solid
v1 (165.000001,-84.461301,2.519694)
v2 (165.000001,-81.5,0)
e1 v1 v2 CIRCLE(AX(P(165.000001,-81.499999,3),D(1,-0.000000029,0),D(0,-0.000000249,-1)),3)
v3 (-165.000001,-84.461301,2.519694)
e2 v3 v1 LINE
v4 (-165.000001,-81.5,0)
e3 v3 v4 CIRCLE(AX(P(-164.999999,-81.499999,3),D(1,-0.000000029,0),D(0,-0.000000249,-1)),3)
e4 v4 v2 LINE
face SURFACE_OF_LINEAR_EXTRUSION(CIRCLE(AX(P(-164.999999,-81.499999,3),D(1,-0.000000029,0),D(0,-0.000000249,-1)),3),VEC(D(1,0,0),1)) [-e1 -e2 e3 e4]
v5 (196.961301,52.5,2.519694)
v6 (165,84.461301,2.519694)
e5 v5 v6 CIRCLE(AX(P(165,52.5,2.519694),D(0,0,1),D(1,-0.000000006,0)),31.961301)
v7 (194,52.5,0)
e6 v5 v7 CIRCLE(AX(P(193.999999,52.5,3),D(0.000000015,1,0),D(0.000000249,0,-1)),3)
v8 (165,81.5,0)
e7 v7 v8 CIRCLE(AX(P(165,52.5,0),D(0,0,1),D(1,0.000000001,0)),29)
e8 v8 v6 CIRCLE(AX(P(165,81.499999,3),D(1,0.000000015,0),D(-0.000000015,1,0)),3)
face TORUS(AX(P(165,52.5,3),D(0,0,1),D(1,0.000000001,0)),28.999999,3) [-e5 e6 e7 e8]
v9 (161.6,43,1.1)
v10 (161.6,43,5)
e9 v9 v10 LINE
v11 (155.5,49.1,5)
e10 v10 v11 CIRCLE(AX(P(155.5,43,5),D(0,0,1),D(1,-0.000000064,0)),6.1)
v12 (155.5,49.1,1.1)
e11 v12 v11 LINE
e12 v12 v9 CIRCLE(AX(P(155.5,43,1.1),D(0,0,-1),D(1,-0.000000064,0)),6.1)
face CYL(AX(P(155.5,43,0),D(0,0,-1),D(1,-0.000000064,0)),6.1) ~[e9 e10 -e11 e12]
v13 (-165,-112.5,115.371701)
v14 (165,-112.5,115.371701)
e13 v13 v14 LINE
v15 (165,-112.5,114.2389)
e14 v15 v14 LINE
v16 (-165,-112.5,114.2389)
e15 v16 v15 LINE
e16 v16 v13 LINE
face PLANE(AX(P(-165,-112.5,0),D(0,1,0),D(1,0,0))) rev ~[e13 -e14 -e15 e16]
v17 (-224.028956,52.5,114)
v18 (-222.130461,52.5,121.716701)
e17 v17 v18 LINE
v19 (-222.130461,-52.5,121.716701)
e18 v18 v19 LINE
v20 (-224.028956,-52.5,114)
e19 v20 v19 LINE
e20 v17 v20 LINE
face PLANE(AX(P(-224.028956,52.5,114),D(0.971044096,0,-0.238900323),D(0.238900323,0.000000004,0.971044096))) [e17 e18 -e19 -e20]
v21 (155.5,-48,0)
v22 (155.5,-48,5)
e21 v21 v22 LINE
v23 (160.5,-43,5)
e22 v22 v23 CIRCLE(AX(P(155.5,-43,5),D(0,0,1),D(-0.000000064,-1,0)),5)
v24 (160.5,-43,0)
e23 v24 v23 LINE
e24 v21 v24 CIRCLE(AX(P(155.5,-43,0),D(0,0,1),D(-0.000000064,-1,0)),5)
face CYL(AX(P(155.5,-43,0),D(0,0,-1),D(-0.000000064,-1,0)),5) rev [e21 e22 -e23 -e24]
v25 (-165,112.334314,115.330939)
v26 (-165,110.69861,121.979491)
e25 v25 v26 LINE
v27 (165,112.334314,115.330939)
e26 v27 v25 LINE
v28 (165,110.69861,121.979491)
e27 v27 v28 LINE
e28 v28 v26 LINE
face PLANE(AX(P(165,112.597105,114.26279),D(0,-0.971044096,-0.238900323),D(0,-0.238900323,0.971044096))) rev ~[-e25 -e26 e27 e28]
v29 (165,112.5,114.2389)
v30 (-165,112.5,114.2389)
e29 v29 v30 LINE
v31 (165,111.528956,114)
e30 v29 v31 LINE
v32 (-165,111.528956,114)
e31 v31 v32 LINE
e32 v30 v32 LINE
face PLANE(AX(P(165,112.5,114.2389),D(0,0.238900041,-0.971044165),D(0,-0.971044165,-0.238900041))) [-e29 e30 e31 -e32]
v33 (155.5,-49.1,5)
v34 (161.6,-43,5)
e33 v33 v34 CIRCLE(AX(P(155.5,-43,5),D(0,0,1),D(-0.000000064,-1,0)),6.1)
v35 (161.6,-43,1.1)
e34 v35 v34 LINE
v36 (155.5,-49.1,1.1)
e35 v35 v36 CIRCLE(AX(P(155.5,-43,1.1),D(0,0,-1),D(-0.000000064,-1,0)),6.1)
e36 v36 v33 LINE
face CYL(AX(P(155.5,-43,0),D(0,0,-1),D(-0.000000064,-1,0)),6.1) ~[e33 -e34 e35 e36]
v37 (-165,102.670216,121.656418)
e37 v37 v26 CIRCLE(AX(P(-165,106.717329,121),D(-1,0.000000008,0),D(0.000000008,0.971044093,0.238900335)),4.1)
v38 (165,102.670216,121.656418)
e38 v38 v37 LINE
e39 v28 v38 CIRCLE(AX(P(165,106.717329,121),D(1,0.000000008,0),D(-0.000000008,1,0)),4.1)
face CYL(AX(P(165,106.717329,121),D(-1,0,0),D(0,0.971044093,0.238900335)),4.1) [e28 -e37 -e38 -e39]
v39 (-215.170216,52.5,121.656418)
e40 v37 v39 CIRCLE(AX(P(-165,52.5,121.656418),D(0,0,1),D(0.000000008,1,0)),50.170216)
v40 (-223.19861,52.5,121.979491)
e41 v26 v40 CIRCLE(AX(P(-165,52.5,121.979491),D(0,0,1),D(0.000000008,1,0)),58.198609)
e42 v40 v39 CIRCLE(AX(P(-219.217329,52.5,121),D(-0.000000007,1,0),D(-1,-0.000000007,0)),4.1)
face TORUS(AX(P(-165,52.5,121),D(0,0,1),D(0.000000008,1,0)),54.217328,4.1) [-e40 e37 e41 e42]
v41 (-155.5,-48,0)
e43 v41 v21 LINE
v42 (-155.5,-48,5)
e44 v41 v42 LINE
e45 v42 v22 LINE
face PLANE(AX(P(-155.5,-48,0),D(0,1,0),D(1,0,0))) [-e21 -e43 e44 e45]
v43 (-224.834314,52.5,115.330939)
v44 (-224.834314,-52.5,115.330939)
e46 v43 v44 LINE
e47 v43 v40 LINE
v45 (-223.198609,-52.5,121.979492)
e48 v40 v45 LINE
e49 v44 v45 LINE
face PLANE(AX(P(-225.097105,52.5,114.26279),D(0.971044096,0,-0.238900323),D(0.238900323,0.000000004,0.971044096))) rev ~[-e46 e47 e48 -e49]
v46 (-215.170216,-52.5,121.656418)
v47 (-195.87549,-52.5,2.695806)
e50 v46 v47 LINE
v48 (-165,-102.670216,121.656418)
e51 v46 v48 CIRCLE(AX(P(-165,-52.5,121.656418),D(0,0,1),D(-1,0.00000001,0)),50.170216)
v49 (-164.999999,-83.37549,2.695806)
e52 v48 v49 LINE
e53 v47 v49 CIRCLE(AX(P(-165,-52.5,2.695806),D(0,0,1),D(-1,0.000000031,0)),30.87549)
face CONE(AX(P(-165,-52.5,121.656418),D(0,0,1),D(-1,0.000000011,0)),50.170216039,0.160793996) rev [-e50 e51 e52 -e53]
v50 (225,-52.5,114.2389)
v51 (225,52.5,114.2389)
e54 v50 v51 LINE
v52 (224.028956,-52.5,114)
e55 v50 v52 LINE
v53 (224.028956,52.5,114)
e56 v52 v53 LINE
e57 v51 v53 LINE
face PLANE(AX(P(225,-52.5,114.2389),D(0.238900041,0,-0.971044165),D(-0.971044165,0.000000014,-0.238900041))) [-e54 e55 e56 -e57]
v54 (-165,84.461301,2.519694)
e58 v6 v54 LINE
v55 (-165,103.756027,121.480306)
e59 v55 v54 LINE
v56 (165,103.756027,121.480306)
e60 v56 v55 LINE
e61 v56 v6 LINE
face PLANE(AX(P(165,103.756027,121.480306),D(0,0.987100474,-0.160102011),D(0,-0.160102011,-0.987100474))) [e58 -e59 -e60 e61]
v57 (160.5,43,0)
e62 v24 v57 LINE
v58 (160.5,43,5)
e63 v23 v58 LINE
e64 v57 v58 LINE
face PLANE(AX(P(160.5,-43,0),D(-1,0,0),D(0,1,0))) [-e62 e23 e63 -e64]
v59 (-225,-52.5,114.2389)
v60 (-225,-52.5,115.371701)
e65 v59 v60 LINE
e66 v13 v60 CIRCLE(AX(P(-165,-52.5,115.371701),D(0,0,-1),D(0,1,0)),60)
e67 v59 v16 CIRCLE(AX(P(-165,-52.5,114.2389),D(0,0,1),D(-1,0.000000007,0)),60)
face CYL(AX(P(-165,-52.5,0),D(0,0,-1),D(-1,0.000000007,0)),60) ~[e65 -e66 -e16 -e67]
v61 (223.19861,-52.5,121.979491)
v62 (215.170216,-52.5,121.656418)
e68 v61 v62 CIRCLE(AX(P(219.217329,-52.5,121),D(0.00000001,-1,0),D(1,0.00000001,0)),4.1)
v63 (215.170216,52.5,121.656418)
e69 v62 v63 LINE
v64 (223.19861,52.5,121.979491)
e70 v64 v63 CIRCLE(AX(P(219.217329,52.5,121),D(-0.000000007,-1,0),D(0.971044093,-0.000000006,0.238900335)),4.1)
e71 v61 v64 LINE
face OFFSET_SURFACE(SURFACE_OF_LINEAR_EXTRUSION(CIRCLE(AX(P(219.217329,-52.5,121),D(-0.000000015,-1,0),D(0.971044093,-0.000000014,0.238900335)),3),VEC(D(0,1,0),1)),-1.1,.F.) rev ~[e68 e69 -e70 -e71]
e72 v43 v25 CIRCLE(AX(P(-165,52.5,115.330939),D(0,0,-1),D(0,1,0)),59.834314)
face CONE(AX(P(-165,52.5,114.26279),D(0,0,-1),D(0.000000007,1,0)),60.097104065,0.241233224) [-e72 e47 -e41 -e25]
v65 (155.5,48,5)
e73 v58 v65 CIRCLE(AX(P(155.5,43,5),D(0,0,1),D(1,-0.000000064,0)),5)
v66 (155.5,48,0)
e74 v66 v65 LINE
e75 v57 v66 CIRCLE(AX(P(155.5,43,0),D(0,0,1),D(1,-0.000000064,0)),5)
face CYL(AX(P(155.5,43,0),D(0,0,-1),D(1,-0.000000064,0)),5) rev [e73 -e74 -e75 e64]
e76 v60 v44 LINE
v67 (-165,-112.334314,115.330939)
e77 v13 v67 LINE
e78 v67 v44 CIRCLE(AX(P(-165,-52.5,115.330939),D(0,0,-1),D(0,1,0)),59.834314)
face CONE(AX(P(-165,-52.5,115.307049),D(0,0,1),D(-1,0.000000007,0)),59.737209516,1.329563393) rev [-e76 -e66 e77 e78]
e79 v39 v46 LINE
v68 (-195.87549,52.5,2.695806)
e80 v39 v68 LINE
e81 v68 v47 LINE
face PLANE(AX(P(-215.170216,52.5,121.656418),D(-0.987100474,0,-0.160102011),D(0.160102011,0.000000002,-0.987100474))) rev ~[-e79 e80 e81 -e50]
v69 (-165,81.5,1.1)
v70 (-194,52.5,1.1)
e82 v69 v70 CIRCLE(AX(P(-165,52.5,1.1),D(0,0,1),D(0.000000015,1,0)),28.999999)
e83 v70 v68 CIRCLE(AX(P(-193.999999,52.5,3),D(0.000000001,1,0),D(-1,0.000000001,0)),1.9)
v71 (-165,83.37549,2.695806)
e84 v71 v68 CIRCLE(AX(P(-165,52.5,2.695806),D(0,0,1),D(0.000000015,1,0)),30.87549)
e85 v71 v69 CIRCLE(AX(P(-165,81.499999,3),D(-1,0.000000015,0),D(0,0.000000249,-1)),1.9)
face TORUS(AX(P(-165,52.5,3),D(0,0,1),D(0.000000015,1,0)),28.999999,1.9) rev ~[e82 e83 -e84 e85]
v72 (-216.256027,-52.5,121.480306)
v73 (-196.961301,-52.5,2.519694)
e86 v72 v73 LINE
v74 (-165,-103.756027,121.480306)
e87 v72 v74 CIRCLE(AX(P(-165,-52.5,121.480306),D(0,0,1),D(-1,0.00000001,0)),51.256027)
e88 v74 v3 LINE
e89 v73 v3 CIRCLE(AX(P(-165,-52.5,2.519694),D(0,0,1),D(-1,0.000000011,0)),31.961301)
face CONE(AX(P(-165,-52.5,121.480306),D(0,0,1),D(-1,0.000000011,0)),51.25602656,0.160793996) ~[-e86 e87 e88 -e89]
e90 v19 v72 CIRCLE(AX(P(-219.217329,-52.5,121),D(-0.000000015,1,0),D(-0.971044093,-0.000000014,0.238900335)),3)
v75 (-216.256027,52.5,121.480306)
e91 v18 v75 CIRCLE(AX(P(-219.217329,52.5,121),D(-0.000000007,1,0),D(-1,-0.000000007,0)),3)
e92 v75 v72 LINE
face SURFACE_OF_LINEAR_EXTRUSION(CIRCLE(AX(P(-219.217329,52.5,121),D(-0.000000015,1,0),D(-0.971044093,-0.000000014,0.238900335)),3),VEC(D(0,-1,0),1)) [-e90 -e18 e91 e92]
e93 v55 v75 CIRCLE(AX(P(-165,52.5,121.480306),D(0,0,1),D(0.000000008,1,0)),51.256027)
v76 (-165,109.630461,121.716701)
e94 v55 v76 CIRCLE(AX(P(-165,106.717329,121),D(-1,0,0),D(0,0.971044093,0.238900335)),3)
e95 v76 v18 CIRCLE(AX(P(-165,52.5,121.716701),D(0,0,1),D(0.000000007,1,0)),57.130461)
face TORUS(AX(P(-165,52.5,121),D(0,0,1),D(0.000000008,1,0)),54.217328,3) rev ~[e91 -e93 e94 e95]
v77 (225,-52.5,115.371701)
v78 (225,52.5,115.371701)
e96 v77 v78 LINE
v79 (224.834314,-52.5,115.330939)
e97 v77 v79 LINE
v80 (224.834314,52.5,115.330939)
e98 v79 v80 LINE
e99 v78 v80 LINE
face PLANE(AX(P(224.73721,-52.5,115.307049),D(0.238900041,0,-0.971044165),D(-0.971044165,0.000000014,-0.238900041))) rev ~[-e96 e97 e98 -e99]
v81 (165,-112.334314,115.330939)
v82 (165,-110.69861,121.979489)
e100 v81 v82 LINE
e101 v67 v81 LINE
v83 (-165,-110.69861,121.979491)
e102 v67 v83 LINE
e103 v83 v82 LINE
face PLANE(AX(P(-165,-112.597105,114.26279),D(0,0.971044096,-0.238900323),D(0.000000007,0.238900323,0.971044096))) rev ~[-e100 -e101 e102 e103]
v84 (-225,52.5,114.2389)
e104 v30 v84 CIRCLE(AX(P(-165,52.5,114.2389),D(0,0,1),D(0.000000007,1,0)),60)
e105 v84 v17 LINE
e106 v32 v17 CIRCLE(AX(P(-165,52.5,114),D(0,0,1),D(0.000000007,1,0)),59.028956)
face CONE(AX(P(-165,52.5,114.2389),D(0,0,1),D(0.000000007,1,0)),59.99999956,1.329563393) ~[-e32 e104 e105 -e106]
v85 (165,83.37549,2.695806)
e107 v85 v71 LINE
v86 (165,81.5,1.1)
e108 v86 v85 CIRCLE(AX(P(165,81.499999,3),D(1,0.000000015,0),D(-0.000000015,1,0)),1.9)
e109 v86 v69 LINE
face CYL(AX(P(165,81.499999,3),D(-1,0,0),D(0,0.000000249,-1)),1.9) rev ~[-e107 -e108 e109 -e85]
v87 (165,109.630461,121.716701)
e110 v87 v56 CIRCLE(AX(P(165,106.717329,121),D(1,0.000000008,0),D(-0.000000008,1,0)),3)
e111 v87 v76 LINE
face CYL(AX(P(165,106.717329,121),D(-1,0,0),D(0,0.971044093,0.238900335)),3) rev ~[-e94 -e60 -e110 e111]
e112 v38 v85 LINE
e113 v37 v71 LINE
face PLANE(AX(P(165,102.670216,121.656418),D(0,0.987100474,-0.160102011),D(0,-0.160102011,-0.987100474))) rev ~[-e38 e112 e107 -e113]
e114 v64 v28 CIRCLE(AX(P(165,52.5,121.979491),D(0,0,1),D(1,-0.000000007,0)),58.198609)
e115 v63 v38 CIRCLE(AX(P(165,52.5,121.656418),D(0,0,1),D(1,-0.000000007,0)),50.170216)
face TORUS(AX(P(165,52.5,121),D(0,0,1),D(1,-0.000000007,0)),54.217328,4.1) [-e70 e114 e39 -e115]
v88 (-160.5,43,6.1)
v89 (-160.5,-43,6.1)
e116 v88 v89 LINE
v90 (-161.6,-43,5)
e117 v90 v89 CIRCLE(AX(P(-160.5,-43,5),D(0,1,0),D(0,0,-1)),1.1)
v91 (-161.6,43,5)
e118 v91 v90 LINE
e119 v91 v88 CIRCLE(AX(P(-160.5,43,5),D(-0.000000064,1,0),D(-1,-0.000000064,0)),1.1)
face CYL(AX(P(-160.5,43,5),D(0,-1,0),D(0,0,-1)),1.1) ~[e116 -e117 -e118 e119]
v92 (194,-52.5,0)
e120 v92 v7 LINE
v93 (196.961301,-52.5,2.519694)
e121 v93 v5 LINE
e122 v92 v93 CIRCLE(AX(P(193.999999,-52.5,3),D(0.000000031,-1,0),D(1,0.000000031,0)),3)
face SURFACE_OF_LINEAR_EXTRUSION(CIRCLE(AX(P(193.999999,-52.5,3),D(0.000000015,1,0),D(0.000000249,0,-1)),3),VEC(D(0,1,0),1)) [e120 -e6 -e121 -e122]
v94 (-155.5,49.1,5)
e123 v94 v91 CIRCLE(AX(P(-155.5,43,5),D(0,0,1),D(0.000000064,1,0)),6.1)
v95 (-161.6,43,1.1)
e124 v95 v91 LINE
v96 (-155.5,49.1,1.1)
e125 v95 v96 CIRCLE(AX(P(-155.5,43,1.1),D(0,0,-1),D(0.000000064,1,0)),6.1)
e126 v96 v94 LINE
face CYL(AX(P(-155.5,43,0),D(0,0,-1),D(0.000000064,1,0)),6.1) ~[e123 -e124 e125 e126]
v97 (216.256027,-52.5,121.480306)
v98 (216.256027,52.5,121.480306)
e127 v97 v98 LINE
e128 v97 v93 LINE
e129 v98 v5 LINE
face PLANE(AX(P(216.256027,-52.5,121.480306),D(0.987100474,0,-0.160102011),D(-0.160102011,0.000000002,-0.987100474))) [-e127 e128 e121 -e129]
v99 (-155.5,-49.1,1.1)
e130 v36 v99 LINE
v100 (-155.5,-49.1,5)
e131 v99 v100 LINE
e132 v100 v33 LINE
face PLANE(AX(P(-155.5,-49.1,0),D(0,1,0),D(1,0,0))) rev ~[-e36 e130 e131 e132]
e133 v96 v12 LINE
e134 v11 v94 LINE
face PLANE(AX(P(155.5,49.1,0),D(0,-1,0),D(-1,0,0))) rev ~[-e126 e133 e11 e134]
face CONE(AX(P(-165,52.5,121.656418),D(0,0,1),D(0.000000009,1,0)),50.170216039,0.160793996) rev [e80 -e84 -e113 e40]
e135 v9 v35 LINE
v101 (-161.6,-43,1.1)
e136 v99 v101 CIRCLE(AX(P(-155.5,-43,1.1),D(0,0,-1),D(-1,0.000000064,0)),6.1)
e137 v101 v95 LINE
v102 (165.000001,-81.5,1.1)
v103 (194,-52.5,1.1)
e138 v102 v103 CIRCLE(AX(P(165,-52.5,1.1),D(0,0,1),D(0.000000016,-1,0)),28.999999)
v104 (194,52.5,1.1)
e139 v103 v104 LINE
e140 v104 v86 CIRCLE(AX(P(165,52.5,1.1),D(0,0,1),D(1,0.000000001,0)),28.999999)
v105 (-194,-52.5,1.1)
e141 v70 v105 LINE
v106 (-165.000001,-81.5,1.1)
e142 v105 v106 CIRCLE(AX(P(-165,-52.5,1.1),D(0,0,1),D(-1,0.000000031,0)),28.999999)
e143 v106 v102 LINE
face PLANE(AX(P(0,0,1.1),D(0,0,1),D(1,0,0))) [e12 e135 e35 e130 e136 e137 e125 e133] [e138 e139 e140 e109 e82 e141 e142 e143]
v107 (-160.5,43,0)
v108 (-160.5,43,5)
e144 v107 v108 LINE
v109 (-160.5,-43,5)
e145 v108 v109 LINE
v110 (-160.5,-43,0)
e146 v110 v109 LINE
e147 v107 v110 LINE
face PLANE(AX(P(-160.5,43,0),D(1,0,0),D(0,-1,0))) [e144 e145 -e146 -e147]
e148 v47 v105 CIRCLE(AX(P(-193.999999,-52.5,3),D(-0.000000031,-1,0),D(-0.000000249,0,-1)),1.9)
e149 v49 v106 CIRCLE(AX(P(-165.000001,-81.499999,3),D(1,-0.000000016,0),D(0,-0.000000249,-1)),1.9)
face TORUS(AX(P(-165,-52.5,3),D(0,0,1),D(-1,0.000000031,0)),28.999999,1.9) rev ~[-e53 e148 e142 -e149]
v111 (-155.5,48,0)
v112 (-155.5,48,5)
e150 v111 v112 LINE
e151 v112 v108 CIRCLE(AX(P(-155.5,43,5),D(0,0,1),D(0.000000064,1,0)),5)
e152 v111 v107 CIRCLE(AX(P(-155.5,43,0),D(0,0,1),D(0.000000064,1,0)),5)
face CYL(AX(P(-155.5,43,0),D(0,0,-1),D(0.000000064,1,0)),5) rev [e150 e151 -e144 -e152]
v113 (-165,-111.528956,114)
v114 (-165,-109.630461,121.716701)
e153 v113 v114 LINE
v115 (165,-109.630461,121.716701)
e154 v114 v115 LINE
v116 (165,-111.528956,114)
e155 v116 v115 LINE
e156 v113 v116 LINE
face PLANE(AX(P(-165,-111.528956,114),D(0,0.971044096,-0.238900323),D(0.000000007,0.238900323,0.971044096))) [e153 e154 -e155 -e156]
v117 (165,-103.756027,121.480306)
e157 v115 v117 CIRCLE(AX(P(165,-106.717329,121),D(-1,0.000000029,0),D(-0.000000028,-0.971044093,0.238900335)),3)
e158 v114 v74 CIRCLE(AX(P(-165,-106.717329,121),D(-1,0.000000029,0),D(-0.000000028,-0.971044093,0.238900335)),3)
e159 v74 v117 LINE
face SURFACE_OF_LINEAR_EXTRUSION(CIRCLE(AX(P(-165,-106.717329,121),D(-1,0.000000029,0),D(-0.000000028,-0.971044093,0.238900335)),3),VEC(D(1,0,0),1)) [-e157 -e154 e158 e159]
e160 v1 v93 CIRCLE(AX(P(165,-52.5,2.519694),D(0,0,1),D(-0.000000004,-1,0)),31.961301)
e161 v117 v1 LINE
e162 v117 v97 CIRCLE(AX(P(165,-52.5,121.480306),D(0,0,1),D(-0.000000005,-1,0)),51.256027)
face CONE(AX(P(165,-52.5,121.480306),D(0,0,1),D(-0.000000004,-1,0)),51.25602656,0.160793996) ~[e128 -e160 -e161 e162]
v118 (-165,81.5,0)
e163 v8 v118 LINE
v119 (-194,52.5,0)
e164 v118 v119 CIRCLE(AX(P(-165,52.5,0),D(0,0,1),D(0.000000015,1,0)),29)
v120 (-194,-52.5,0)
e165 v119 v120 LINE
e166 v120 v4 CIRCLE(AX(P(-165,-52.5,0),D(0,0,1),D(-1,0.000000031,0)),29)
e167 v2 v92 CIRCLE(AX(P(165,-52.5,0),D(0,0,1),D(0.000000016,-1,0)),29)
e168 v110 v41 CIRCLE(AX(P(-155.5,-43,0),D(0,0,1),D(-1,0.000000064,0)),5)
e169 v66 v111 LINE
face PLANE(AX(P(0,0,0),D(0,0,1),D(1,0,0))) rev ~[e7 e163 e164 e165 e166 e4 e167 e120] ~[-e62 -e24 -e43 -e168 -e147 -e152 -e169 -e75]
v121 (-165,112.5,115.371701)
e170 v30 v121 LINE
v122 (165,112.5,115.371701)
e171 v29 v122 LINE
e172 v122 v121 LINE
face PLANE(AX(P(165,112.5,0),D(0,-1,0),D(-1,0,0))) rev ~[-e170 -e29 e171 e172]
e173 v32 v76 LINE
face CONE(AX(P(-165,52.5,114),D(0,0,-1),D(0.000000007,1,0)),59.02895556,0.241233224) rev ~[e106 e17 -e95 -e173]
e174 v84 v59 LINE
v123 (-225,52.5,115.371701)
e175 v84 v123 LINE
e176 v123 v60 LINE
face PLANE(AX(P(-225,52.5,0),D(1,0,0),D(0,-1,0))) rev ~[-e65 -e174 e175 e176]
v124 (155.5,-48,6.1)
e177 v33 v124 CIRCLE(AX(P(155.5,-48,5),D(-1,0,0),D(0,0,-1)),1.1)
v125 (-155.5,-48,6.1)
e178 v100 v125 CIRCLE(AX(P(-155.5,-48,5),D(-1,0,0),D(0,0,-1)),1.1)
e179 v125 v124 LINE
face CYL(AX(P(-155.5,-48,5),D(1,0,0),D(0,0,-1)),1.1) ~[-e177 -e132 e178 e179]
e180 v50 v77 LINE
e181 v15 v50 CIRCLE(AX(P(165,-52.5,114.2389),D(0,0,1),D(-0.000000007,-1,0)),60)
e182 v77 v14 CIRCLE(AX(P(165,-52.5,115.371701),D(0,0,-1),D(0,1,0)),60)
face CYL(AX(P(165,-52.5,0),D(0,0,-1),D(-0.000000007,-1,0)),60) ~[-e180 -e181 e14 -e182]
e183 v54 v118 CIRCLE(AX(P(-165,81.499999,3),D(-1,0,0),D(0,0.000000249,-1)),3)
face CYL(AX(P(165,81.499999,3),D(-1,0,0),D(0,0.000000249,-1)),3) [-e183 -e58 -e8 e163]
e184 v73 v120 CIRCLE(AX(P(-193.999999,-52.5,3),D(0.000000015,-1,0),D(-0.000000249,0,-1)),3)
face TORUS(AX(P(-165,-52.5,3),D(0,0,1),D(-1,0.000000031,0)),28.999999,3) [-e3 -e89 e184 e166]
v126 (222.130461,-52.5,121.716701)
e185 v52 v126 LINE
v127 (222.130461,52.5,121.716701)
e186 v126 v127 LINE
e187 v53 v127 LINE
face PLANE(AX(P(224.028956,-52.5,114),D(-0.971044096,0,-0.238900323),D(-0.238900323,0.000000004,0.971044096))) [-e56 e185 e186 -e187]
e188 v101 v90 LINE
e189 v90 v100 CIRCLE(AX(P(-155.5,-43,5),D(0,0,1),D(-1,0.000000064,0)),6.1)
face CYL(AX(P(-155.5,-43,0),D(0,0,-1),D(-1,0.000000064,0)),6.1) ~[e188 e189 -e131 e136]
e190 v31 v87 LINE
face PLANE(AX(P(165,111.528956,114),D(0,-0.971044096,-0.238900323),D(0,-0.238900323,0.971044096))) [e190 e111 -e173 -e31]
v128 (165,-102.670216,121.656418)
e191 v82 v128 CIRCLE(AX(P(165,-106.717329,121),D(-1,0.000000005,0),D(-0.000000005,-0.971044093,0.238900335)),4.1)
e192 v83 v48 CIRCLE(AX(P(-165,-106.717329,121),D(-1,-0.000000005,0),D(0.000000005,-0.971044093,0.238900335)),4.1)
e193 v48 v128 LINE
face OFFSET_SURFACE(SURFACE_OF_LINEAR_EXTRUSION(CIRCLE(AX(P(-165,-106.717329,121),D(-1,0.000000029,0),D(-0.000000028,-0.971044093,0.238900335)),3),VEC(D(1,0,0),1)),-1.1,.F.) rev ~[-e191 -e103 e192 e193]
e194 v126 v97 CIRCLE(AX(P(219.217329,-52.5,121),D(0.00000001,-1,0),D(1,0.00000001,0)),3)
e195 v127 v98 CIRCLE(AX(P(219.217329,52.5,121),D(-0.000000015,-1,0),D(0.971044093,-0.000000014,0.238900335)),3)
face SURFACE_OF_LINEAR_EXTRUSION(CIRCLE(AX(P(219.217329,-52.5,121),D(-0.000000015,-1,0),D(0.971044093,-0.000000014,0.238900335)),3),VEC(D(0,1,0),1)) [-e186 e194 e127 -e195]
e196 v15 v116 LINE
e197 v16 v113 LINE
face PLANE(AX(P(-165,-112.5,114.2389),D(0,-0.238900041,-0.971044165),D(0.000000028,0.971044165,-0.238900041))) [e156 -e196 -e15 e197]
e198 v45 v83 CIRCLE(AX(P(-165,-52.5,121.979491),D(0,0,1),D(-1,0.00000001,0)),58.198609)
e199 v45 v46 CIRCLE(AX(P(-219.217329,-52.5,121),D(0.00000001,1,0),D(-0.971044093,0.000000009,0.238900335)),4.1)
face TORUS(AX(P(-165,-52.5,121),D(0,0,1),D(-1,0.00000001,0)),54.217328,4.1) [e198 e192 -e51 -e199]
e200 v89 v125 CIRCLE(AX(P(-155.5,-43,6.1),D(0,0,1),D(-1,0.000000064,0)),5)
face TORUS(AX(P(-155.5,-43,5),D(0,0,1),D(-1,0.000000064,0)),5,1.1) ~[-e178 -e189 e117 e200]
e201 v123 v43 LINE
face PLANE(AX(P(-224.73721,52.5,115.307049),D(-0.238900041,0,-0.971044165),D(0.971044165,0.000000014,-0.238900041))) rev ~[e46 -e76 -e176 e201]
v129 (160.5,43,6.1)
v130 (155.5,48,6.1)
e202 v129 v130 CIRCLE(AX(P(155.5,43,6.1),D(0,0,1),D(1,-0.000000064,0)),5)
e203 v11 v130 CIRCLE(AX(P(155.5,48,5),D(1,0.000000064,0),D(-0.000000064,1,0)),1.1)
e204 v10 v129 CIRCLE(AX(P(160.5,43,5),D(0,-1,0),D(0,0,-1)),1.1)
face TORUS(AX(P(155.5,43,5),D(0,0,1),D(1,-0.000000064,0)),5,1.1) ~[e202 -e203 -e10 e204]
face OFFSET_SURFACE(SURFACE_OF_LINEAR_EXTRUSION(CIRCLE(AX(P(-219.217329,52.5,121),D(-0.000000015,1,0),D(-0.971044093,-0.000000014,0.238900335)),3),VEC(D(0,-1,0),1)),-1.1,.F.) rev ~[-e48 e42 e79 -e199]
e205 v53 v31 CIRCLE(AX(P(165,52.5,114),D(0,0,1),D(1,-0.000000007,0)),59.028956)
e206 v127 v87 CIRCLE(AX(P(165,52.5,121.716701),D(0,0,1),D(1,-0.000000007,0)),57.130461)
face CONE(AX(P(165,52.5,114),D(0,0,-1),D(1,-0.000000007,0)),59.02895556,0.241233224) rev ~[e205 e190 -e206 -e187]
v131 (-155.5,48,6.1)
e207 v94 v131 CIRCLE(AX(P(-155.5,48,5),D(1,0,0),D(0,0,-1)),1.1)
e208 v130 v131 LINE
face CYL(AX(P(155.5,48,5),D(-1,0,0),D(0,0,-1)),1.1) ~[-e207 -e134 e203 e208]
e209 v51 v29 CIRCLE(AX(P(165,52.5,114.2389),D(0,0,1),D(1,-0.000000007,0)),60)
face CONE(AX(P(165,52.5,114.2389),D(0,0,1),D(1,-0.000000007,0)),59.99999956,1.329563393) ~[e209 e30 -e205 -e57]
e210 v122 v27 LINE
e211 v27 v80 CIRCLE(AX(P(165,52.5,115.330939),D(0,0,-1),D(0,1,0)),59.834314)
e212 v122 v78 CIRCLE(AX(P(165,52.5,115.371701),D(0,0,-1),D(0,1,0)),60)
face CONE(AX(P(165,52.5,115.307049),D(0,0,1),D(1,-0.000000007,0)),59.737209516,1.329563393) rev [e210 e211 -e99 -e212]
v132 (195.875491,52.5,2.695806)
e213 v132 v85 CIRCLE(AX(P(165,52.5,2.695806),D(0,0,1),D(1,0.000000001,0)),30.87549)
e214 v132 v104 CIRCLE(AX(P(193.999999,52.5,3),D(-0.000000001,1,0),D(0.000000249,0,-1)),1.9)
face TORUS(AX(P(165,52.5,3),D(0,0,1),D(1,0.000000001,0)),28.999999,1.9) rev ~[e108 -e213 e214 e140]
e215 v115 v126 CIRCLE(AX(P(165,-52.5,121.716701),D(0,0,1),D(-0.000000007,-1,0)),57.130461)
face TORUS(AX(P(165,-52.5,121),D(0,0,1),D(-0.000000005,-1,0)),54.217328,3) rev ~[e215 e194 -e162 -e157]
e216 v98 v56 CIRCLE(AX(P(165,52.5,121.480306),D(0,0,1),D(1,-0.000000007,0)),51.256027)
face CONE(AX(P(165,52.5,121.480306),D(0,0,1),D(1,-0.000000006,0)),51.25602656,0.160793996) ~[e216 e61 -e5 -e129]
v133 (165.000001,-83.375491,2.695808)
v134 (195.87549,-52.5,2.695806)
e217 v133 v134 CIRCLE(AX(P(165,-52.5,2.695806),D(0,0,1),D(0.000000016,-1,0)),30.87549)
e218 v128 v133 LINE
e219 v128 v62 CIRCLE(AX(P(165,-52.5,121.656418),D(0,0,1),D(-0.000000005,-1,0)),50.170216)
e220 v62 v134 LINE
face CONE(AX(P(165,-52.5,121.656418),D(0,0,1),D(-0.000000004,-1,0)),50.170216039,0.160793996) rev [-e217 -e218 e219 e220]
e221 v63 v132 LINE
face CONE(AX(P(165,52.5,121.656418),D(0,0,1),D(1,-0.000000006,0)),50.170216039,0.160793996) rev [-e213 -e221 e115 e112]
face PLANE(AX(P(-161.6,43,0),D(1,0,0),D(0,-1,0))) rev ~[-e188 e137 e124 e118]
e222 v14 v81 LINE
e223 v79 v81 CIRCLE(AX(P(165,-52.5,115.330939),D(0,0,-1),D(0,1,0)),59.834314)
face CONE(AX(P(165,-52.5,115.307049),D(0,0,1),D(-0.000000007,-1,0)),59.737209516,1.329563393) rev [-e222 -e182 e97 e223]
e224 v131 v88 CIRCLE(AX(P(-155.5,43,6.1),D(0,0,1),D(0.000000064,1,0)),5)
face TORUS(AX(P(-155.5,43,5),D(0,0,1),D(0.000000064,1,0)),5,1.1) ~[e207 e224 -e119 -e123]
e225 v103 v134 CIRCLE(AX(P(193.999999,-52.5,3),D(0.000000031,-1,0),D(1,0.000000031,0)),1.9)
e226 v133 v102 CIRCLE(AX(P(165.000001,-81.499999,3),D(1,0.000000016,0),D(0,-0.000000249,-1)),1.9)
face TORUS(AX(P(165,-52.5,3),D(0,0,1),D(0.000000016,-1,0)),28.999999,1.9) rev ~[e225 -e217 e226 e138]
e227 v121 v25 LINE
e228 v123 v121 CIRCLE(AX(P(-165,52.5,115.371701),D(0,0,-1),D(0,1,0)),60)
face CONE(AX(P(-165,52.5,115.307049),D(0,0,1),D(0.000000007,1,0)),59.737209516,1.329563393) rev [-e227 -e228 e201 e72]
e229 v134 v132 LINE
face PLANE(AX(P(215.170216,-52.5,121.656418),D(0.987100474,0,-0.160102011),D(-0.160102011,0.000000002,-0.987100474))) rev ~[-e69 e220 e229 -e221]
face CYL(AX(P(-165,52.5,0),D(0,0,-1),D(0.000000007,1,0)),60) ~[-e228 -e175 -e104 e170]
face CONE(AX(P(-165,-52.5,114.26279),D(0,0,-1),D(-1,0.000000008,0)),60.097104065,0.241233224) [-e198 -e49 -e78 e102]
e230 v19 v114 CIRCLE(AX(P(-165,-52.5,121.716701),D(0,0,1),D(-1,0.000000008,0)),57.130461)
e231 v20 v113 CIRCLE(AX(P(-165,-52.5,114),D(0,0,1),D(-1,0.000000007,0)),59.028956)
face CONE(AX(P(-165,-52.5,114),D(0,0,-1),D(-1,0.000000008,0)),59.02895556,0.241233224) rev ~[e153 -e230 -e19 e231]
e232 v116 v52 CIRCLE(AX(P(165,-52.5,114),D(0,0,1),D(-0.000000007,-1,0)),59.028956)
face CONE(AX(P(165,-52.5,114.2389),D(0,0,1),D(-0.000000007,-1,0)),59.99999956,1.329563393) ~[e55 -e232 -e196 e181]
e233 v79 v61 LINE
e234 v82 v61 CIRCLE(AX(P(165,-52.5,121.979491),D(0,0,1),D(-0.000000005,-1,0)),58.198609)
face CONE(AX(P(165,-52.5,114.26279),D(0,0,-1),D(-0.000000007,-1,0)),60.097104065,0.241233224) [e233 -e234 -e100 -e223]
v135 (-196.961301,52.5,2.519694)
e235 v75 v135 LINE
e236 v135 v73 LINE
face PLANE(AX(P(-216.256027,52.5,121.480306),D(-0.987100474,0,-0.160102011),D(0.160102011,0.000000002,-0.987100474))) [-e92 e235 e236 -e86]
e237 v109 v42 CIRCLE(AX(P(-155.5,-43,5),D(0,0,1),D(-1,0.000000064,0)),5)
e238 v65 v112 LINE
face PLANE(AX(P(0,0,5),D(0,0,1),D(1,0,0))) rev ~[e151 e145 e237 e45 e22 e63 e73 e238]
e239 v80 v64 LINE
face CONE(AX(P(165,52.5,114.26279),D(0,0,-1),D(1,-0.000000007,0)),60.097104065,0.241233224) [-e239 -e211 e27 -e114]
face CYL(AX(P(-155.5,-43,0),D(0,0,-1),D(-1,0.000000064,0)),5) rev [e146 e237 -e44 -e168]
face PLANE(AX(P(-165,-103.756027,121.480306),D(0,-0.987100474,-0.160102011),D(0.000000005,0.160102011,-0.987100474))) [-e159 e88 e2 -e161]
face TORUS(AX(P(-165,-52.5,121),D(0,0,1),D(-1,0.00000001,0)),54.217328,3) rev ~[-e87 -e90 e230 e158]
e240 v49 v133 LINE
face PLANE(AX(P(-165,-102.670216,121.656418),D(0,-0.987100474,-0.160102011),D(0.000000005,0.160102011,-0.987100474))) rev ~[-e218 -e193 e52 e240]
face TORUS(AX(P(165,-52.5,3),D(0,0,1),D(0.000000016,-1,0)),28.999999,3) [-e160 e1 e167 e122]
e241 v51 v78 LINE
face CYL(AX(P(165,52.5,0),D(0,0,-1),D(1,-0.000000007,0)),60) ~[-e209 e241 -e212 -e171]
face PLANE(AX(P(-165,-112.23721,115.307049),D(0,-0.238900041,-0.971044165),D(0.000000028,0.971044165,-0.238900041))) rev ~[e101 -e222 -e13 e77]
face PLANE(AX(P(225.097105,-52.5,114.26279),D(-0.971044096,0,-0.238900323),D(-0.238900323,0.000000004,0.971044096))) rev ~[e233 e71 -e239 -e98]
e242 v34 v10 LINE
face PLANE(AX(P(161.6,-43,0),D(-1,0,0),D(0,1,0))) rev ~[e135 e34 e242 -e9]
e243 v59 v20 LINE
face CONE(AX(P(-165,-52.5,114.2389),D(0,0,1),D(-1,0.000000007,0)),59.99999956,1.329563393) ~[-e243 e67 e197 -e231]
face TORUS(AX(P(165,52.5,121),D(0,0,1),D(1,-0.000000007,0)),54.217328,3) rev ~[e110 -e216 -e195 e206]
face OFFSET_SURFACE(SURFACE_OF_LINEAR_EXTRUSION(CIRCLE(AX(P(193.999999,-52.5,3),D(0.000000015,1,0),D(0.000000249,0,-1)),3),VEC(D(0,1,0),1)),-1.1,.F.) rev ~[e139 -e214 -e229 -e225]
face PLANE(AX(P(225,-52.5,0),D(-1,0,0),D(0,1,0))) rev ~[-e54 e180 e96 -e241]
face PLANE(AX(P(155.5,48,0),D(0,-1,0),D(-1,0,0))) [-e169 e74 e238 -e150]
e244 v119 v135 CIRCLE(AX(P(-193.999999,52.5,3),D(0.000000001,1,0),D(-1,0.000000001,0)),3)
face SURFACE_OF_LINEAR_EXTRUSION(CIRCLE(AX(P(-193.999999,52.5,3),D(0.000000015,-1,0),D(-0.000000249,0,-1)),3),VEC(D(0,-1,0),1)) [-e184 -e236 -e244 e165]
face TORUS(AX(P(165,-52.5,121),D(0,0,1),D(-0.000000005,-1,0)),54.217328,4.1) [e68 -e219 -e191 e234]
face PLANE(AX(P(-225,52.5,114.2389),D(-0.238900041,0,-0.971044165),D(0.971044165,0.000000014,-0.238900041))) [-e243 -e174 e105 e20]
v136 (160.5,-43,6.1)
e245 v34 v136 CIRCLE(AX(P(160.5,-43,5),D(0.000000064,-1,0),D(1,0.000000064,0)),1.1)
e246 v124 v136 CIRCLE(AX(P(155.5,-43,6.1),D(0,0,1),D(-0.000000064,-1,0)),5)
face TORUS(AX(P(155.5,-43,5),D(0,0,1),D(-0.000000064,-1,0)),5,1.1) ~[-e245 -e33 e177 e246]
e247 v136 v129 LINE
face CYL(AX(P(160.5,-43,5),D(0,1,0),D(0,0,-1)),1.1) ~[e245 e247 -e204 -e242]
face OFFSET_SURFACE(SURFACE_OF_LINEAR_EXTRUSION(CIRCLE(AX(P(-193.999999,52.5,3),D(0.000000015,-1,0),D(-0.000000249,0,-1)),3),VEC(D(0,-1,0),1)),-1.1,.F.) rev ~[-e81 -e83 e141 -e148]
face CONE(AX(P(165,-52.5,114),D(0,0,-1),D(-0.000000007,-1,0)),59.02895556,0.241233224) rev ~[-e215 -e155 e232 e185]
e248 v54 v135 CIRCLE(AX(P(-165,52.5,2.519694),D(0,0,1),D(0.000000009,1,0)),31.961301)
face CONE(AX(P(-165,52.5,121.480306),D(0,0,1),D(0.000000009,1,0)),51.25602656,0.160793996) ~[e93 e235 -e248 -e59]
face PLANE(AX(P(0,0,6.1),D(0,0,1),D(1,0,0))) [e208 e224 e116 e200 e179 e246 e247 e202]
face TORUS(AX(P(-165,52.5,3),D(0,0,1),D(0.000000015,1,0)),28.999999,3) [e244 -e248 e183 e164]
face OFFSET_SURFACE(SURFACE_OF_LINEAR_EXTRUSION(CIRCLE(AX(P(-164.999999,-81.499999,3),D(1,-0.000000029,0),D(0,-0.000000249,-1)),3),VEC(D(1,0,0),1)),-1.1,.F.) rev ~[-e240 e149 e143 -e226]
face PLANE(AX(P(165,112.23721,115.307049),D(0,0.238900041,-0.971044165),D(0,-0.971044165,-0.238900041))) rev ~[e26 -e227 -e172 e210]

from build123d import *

# Parameters (mm, degrees)
PAD_DEPTH    = 125
POCKET_DEPTH = 5
THICKNESS_T  = -1.1


with BuildPart() as part:
    # Sketch → Pad (new body)
    with BuildSketch(Plane.XY):
        with BuildLine():
            Line((-165, -112.5), (165, -112.5))
            ThreePointArc((165, -112.5), (207.426407, -94.926407), (225, -52.5))
            Line((225, -52.5), (225, 52.5))
            ThreePointArc((225, 52.5), (207.426407, 94.926407), (165, 112.5))
            Line((165, 112.5), (-165, 112.5))
            ThreePointArc((-165, 112.5), (-207.426407, 94.926407), (-225, 52.5))
            Line((-225, 52.5), (-225, -52.5))
            ThreePointArc((-225, -52.5), (-207.426407, -94.926407), (-165, -112.5))
        make_face()
    extrude(amount=PAD_DEPTH)

    # SubtractivePipe: sweep along a path in Sketch
    with BuildLine(Plane.XY) as subtractivepipe_path:
        Line((-165, -112.5), (165, -112.5))
        ThreePointArc((165, -112.5), (207.426407, -94.926407), (225, -52.5))
        Line((225, -52.5), (225, 52.5))
        ThreePointArc((225, 52.5), (207.426407, 94.926407), (165, 112.5))
        Line((165, 112.5), (-165, 112.5))
        ThreePointArc((-165, 112.5), (-207.426407, 94.926407), (-225, 52.5))
        Line((-225, 52.5), (-225, -52.5))
        ThreePointArc((-225, -52.5), (-207.426407, -94.926407), (-165, -112.5))
    # Sketch001 → SubtractivePipe (sweep, cut)
    with BuildSketch(Plane(origin=(0, 112.5, 0), x_dir=(0, 1, 0), z_dir=(1, 0, 0))):
        with BuildLine():
            Line((0, 114.2389), (-0.971044, 114))
            Line((-0.971044, 114), (-2.869539, 121.716701))
            ThreePointArc((-2.869539, 121.716701), (-5.903298, 123.997574), (-8.743973, 121.480306))
            Line((-8.743973, 121.480306), (-28.038699, 2.519694))
            ThreePointArc((-31, 0), (-29.055896, 0.715168), (-28.038699, 2.519694))
            Line((-31, 0), (0, 0))
            Line((0, 0), (0, 114.2389))
        make_face()
    sweep(path=subtractivepipe_path.line, mode=Mode.SUBTRACT)

    # Sketch003 → Pocket (cut)
    with BuildSketch(Plane.XY):
        with BuildLine():
            Line((-155.5, -48), (155.5, -48))
            ThreePointArc((155.5, -48), (159.035534, -46.535534), (160.5, -43))
            Line((160.5, -43), (160.5, 43))
            ThreePointArc((160.5, 43), (159.035534, 46.535534), (155.5, 48))
            Line((155.5, 48), (-155.5, 48))
            ThreePointArc((-155.5, 48), (-159.035534, 46.535534), (-160.5, 43))
            Line((-160.5, 43), (-160.5, -43))
            ThreePointArc((-160.5, -43), (-159.035534, -46.535534), (-155.5, -48))
        make_face()
    extrude(amount=POCKET_DEPTH, mode=Mode.SUBTRACT)

    # Thickness
    thickness_openings = [part.faces().sort_by_distance(p)[0] for p in [
        (0, 0, 125),
        (-225, 0, 119.61945),
        (-207.426407, -94.926407, 119.61945),
        (0, -112.5, 119.61945),
        (207.426407, -94.926407, 119.61945),
        (-207.426407, 94.926407, 119.61945),
        (0, 112.5, 119.61945),
        (207.426407, 94.926407, 119.61945),
        (225, 0, 119.61945),
    ]]
    offset(amount=THICKNESS_T, openings=thickness_openings)


solid = part.part
